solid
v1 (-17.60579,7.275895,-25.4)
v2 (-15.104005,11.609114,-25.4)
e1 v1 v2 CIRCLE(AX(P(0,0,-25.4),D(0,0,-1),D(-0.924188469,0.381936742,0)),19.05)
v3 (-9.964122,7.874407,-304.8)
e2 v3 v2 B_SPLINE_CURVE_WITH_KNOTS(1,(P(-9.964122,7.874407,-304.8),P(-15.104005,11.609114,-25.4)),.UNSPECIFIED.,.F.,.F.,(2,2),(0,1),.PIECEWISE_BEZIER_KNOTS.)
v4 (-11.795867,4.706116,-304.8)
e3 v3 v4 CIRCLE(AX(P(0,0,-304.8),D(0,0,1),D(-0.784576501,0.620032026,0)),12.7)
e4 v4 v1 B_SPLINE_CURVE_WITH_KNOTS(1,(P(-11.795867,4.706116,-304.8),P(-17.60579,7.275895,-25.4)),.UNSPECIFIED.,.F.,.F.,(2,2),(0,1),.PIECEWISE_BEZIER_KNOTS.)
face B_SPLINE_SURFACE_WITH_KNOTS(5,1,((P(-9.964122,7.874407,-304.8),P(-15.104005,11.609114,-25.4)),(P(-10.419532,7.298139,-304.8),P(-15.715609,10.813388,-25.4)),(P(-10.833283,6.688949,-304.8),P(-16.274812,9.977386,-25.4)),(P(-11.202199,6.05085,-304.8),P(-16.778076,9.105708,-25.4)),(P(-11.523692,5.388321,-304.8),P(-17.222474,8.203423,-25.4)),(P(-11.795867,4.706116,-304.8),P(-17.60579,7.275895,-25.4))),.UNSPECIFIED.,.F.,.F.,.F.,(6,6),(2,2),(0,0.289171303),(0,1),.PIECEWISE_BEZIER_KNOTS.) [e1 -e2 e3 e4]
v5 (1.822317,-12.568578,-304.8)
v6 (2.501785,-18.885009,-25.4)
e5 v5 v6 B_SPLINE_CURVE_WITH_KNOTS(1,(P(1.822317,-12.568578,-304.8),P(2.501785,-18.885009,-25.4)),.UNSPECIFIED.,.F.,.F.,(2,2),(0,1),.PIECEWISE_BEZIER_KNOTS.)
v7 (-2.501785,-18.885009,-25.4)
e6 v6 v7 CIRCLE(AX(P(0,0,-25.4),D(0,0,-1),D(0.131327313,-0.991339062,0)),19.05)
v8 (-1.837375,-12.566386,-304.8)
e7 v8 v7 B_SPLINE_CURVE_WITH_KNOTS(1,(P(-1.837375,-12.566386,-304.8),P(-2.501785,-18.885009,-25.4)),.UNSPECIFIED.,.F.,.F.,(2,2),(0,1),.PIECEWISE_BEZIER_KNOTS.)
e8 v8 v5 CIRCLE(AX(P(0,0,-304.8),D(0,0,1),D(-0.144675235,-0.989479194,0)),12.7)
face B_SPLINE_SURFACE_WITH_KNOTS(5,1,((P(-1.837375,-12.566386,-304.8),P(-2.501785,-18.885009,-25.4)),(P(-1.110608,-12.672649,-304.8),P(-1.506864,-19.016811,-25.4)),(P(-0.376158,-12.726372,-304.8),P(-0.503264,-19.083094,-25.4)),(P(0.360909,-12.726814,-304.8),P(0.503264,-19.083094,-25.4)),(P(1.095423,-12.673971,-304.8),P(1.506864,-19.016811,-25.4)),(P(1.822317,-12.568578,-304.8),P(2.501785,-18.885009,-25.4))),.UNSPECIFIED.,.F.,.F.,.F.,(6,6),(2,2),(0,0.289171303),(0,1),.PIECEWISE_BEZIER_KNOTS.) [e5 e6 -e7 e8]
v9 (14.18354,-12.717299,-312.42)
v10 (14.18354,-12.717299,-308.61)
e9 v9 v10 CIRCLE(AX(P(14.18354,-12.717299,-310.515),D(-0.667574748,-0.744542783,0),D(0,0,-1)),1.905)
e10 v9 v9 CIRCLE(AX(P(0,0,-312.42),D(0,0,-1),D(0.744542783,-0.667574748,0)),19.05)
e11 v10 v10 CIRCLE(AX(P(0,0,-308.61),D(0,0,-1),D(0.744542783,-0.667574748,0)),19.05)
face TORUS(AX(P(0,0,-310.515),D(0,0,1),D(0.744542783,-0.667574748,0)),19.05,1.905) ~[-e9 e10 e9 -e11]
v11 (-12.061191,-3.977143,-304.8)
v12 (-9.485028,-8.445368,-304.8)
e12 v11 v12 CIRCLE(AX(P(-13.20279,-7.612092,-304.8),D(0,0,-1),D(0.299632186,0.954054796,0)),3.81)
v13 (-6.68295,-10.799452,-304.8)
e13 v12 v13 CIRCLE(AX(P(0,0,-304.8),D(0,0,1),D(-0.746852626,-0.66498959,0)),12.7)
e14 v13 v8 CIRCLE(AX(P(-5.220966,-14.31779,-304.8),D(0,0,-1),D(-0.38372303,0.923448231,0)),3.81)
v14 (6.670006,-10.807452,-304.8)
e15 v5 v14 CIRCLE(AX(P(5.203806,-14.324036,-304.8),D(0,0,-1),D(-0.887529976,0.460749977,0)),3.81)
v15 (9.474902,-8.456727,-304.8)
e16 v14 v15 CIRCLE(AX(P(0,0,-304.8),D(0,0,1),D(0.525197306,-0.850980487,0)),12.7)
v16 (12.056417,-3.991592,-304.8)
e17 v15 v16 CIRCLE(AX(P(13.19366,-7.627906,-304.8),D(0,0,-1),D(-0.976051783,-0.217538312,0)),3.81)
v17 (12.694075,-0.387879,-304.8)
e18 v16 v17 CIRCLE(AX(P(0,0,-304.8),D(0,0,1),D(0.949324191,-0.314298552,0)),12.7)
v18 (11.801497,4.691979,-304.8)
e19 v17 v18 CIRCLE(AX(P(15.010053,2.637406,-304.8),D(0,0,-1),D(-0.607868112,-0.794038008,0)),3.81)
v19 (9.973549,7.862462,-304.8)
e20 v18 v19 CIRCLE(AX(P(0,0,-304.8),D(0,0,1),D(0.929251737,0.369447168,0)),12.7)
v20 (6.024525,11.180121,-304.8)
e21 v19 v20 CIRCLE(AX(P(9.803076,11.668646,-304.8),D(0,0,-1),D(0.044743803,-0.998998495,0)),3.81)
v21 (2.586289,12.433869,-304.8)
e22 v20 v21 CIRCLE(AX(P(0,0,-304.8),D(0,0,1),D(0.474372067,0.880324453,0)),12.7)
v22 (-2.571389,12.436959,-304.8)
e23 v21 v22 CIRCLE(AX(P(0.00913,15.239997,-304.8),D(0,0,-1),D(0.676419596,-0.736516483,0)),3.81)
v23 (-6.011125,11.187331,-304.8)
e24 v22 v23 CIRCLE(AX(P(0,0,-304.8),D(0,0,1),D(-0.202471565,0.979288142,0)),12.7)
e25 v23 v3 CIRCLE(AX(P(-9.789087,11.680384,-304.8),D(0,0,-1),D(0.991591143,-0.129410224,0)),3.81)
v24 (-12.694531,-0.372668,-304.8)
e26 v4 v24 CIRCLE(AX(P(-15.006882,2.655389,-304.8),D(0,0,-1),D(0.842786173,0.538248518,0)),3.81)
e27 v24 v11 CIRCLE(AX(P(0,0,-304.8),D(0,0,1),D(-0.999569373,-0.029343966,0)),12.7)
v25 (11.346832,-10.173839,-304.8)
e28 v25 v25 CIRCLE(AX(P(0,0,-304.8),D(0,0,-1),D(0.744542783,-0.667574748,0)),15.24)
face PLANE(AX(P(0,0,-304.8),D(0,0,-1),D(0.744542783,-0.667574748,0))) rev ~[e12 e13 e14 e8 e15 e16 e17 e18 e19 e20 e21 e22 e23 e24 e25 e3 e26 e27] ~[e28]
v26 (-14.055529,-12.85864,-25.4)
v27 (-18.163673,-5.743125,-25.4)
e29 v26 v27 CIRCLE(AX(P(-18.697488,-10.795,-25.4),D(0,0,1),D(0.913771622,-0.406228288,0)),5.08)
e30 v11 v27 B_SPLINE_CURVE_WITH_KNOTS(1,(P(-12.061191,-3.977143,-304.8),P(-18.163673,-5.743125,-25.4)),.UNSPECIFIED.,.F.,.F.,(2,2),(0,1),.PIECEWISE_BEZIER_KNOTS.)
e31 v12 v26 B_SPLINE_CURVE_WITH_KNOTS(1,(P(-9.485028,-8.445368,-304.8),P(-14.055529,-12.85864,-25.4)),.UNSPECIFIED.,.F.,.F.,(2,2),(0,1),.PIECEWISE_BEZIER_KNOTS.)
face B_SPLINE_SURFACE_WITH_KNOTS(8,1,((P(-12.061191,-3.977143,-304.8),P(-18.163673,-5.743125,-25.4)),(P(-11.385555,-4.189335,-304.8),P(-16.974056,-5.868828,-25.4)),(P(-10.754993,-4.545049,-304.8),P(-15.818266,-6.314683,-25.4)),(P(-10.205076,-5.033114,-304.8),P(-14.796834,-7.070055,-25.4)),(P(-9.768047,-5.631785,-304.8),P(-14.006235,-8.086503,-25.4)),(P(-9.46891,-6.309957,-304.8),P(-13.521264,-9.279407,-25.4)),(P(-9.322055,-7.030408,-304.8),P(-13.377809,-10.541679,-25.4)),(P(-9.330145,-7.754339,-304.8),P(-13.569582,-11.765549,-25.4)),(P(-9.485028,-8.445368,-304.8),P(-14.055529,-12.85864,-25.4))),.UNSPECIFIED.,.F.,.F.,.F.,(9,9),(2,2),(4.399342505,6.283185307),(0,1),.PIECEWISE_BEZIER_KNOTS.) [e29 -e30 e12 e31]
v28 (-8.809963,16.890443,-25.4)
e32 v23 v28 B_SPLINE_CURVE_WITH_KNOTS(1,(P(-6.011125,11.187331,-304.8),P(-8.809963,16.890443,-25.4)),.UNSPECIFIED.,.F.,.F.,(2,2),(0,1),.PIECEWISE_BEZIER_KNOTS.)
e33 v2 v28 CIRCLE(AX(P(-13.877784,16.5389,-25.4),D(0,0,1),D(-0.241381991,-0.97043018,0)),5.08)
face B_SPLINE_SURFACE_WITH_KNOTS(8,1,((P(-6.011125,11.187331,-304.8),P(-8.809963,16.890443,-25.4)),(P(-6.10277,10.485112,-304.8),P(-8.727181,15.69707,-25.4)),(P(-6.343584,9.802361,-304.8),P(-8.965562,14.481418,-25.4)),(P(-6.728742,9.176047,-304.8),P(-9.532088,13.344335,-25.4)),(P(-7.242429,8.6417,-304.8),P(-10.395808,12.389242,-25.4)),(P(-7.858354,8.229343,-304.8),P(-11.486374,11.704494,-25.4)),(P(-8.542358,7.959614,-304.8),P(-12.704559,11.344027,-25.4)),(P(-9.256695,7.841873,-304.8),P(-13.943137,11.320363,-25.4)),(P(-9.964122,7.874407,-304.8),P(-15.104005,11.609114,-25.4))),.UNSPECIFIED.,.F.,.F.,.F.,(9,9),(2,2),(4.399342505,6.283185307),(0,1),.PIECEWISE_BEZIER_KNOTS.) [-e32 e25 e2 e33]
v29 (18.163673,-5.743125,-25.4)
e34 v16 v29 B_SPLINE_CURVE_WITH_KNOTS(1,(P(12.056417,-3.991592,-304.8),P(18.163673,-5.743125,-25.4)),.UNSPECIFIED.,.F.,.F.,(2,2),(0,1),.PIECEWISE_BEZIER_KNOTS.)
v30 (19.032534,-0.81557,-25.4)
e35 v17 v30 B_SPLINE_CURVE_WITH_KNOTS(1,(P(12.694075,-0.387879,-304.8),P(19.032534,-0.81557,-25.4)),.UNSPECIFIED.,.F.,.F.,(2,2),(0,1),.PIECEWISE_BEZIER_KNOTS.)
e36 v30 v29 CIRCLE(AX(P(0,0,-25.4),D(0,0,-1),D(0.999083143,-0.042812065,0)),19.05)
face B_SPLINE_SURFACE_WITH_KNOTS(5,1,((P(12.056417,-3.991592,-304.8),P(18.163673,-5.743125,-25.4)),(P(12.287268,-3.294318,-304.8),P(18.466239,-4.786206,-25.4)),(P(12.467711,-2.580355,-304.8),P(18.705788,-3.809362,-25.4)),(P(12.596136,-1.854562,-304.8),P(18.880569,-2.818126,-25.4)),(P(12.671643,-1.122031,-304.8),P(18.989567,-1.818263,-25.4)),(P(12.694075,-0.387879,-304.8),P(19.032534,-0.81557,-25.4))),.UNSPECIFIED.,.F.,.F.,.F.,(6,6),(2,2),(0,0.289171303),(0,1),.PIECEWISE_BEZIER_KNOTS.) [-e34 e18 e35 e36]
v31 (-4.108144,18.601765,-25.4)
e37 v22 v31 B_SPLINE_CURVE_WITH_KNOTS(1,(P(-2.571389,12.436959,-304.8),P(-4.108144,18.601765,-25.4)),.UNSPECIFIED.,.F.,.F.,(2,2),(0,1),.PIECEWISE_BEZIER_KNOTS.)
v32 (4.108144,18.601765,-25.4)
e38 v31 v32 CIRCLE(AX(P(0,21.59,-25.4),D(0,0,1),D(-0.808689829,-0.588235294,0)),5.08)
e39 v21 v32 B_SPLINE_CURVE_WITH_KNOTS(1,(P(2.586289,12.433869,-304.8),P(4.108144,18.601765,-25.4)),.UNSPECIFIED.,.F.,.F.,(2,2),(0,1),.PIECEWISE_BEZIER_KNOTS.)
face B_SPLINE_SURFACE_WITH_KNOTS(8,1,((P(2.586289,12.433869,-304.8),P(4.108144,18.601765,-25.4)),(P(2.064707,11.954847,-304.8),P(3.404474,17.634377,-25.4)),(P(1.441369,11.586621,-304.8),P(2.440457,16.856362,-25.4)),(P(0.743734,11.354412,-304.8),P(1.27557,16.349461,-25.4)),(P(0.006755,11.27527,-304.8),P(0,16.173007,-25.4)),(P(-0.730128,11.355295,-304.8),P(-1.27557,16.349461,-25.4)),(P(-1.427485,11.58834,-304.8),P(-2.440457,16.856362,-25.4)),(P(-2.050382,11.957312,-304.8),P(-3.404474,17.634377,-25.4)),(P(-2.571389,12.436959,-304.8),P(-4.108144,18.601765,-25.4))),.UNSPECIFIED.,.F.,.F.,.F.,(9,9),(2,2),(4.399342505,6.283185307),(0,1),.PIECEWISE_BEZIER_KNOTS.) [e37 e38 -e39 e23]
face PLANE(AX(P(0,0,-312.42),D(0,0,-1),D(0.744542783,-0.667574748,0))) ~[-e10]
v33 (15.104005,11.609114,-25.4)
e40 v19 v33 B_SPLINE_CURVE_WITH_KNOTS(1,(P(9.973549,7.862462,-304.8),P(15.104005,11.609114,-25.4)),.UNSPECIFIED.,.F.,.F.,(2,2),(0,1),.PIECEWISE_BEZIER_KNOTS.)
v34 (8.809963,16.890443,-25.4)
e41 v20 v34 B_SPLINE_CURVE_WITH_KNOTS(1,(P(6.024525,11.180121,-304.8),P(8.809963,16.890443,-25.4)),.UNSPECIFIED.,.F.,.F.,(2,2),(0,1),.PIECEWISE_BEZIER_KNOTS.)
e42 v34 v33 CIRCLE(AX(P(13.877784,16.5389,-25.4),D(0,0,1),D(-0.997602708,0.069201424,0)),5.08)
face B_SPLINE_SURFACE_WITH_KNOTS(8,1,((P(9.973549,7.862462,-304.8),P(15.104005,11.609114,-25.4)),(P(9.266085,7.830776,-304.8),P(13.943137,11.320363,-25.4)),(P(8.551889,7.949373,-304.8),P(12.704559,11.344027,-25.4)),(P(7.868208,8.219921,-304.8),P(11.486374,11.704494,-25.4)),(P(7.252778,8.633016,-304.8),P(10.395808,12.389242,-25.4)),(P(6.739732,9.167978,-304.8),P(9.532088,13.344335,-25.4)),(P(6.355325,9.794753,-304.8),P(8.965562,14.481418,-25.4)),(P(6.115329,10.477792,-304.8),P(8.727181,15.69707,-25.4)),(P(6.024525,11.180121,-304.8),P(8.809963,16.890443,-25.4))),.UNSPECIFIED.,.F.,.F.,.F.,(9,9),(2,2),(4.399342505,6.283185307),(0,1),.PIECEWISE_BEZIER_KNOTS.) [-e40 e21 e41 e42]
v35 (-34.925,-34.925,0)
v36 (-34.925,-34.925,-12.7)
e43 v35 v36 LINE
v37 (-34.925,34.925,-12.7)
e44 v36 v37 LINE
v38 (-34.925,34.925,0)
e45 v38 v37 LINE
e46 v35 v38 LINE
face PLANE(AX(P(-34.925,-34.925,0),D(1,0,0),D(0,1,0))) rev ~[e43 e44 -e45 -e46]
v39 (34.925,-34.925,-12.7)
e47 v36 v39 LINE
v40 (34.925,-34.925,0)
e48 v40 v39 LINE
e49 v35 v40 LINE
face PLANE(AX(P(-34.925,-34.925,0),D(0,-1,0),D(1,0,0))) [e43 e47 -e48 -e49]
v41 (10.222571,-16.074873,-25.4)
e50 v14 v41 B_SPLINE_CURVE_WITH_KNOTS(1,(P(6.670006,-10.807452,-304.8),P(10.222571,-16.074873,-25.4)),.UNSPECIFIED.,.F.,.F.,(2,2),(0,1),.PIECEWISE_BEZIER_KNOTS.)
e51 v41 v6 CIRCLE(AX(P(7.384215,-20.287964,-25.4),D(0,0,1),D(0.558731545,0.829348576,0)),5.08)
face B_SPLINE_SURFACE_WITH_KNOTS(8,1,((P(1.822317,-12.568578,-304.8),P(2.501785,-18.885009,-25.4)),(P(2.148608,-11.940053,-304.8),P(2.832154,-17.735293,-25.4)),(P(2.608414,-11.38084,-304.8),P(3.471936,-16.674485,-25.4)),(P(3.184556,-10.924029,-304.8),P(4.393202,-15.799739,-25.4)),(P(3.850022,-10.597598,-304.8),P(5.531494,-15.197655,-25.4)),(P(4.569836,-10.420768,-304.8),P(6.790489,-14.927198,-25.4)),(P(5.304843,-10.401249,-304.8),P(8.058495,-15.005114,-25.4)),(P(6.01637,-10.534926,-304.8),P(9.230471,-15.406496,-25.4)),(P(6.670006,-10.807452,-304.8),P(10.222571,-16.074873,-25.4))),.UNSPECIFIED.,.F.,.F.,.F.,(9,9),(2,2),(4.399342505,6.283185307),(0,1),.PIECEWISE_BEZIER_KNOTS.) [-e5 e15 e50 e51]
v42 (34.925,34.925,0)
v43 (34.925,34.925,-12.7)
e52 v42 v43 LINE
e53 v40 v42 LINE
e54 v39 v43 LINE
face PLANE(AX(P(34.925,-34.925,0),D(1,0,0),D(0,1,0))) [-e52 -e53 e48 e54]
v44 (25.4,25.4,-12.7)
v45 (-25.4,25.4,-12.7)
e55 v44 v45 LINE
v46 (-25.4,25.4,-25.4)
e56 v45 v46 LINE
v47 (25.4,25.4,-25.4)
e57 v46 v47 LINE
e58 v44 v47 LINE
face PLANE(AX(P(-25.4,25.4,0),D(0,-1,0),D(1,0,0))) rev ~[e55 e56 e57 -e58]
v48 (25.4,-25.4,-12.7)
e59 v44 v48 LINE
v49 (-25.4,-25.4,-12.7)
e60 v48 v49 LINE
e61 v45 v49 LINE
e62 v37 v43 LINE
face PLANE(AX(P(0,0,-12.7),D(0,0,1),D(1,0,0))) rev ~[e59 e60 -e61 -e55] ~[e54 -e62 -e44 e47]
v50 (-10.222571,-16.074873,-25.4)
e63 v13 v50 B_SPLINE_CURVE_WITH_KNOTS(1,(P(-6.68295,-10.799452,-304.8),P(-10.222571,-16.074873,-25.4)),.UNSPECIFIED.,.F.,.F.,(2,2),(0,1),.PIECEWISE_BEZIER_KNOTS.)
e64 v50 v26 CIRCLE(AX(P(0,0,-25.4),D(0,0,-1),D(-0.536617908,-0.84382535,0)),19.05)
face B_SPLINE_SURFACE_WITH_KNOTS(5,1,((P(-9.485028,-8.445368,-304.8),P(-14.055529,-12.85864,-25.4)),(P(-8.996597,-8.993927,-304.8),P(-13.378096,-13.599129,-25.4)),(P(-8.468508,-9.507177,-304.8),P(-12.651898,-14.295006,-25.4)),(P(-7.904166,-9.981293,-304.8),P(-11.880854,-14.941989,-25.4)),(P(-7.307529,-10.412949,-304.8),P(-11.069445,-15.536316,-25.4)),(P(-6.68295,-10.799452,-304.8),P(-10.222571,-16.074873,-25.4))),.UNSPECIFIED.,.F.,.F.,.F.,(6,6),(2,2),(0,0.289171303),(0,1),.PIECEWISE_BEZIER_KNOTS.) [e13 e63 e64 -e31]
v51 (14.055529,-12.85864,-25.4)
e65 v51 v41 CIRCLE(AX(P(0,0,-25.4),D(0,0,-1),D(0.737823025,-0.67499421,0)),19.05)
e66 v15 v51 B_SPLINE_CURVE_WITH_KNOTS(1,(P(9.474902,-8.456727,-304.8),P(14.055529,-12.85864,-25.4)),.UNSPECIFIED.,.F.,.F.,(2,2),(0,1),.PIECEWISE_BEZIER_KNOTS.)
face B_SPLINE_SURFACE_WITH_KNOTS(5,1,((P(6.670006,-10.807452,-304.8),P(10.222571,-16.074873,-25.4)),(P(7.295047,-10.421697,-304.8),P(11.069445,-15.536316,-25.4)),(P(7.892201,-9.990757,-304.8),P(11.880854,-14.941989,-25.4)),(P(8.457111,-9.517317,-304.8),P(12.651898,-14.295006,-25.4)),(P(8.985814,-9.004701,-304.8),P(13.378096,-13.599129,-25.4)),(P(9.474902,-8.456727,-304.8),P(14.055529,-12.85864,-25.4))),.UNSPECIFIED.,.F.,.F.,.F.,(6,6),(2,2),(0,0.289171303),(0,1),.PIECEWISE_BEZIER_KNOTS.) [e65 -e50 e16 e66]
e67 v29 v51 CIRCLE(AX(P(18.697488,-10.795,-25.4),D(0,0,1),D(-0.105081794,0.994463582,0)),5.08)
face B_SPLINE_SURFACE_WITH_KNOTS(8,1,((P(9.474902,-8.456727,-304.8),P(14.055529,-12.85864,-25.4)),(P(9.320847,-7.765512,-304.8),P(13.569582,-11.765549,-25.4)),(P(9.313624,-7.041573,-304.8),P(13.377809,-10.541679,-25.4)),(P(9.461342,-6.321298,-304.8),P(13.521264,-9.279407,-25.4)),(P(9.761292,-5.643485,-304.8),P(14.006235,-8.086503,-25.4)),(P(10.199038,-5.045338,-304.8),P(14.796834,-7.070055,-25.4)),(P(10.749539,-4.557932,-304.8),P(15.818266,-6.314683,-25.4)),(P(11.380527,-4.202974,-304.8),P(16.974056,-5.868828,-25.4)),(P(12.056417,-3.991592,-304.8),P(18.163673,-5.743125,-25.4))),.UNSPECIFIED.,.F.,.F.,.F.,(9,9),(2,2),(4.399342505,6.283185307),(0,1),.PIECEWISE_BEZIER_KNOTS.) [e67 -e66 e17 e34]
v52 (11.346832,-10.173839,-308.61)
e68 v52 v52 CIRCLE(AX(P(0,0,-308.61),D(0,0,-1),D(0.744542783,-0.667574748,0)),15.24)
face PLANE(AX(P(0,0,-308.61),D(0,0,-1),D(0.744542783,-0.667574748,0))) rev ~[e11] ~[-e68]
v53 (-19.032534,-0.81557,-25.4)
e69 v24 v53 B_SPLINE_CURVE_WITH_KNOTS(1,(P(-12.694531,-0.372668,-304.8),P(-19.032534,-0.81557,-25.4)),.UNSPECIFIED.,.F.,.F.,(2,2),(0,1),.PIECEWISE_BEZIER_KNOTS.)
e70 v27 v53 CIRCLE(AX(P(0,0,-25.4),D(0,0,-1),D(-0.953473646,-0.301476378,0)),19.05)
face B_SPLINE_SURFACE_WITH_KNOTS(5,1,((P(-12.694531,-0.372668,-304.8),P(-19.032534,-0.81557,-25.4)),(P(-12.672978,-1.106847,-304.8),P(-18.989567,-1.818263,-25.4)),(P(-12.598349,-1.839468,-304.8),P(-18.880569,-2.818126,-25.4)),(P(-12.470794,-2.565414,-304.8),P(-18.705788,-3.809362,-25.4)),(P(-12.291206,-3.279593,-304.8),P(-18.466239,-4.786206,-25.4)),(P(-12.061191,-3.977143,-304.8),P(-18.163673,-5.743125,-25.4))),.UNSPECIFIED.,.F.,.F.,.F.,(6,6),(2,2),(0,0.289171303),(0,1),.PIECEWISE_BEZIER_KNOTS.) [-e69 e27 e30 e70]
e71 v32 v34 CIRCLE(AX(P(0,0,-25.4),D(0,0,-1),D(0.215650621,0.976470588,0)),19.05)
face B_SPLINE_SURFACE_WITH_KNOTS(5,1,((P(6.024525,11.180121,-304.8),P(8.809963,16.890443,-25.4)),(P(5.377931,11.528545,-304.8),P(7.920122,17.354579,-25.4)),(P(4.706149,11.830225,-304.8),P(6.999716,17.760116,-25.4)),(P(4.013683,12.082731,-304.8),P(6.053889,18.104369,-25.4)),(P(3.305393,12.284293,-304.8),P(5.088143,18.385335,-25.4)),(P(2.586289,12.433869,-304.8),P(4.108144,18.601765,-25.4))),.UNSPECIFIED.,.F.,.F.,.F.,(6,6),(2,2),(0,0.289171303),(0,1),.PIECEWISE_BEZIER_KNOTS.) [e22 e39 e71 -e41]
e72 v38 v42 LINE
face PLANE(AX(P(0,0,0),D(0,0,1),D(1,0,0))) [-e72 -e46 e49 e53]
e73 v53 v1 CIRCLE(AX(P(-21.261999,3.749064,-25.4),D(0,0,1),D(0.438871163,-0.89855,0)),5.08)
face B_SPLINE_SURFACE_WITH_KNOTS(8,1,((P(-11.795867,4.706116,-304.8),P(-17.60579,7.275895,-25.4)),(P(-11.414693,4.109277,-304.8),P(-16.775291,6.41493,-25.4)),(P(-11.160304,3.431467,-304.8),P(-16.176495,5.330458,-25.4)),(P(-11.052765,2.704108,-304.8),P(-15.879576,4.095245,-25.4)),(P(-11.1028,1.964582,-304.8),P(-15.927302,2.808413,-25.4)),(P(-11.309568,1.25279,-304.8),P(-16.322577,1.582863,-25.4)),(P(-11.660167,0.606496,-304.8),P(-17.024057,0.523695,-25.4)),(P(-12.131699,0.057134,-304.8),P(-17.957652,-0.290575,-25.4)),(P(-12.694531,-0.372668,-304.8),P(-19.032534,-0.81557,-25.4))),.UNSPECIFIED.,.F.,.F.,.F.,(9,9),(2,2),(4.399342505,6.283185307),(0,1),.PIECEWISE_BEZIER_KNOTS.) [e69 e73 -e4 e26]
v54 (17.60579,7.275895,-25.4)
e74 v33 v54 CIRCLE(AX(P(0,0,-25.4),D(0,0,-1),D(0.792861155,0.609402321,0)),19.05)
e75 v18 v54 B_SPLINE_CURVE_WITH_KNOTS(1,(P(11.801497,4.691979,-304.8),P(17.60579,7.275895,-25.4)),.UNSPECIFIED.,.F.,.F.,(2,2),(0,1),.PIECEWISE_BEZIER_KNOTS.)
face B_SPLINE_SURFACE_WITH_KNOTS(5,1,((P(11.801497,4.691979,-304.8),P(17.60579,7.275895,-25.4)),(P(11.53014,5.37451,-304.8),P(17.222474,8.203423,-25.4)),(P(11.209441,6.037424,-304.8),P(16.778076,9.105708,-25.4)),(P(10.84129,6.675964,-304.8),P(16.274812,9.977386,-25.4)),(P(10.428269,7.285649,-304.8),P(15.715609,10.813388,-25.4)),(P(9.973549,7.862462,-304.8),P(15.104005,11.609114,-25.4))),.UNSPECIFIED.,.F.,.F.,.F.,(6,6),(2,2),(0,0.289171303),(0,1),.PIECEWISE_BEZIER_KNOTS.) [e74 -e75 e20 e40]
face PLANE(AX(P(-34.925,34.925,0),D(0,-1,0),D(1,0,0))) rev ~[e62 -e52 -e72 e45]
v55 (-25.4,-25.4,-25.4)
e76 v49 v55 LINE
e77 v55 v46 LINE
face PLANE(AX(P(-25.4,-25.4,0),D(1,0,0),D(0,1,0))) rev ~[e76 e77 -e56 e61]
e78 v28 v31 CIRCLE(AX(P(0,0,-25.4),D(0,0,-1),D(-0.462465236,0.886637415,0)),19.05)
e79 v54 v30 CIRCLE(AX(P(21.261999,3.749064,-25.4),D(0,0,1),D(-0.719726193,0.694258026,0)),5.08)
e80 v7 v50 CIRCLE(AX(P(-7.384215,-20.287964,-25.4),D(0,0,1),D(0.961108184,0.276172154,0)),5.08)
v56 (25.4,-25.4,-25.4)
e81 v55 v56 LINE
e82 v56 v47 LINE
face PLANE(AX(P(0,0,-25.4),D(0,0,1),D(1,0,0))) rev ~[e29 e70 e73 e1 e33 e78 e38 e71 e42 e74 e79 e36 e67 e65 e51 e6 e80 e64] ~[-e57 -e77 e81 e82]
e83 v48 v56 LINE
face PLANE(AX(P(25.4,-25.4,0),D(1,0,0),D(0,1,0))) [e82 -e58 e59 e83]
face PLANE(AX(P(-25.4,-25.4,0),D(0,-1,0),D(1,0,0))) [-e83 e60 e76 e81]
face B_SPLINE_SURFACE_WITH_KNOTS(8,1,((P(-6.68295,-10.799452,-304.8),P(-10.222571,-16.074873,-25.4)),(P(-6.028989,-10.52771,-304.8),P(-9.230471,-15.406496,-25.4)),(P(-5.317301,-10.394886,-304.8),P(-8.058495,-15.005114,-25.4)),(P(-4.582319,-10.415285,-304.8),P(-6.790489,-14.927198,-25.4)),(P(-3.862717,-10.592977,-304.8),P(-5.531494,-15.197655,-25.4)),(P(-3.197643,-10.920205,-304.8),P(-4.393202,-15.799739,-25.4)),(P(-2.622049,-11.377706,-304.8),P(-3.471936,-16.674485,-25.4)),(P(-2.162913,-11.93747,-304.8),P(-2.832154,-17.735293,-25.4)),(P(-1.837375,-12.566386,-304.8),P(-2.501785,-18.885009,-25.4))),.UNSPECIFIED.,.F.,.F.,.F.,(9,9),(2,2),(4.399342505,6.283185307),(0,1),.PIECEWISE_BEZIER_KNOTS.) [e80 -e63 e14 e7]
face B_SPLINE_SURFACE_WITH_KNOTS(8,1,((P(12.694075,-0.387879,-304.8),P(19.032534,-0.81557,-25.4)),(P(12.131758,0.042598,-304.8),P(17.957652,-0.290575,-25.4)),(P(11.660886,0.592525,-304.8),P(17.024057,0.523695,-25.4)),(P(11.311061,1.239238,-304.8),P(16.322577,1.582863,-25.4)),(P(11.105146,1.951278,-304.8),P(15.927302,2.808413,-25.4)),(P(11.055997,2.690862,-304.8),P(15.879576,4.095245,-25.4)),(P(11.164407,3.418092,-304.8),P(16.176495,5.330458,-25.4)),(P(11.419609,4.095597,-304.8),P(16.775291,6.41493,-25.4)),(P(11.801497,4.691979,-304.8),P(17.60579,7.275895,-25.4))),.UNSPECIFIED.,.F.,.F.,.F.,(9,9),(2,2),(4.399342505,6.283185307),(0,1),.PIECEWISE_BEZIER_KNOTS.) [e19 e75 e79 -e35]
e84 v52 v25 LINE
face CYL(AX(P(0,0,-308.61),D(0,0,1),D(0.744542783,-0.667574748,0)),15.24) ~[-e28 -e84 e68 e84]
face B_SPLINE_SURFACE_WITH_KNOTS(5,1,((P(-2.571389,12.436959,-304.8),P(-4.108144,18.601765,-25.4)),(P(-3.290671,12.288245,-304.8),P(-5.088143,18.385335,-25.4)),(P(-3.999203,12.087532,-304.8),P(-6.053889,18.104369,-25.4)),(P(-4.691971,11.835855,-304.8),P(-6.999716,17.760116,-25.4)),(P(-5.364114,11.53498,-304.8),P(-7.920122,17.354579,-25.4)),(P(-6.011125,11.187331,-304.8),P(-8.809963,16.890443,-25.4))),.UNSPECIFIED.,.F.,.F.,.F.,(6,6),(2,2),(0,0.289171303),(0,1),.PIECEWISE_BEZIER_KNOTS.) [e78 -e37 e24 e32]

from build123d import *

# Parameters (mm, degrees)
F1_W     = 50.8
F1_H     = 50.8
F2_DEPTH = 25.4
F0_W     = 69.85
F0_H     = 69.85
F3_DEPTH = 12.7


with BuildPart() as f2:
    # F1 (on Top) → F2 (new body)
    with BuildSketch(Plane.XY):
        Rectangle(F1_W, F1_H)
    extrude(amount=-F2_DEPTH)

    # F0 (on Top) → F3 (join)
    with BuildSketch(Plane.XY):
        Rectangle(F0_W, F0_H)
    extrude(amount=-F3_DEPTH)

    # F6 (on offset) → F7 section 0
    with BuildSketch(Plane.XY.offset(-304.8)):
        with BuildLine():
            ThreePointArc((1.8223172477, -12.5685782748), (3.902854843, -10.743026765), (6.6700057903, -10.8074521862))
            ThreePointArc((6.6700057903, -10.8074521862), (8.1575727221, -9.7336533369), (9.4749023876, -8.4567265975))
            ThreePointArc((9.4749023876, -8.4567265975), (9.8952447599, -5.7209292202), (12.0564172288, -3.991591613))
            ThreePointArc((12.0564172288, -3.991591613), (12.5057350151, -2.2128243791), (12.6940753985, -0.3878785593))
            ThreePointArc((12.6940753985, -0.3878785593), (11.2575396802, 1.9780546879), (11.8014970538, 4.6919790376))
            ThreePointArc((11.8014970538, 4.6919790376), (11.0023249087, 6.3434096985), (9.9735494515, 7.8624621677))
            ThreePointArc((9.9735494515, 7.8624621677), (7.3523066706, 8.7514848238), (6.0245252483, 11.1801205509))
            ThreePointArc((6.0245252483, 11.1801205509), (4.3508047004, 11.931491879), (2.5862888725, 12.4338694648))
            ThreePointArc((2.5862888725, 12.4338694648), (0.006847658, 11.4299979488), (-2.571388876, 12.4369594053))
            ThreePointArc((-2.571388876, 12.4369594053), (-4.3365053811, 11.9366964056), (-6.0111250133, 11.1873310523))
            ThreePointArc((-6.0111250133, 11.1873310523), (-7.3418154499, 8.7602880032), (-9.9641215675, 7.8744067325))
            ThreePointArc((-9.9641215675, 7.8744067325), (-10.9947163999, 6.3565880224), (-11.7958666993, 4.7061161071))
            ThreePointArc((-11.7958666993, 4.7061161071), (-11.2551615136, 1.9915419412), (-12.6945310386, -0.3726683647))
            ThreePointArc((-12.6945310386, -0.3726683647), (-12.5083774225, -2.1978385421), (-12.0611912601, -3.9771428673))
            ThreePointArc((-12.0611912601, -3.9771428673), (-9.9020924178, -5.7090687286), (-9.4850283528, -8.4453677923))
            ThreePointArc((-9.4850283528, -8.4453677923), (-8.169229634, -9.7238720265), (-6.6829503852, -10.799452493))
            ThreePointArc((-6.6829503852, -10.799452493), (-3.9157242303, -10.7383426911), (-1.8373754864, -12.5663857701))
            ThreePointArc((-1.8373754864, -12.5663857701), (-0.0076085088, -12.6999977209), (1.8223172477, -12.5685782748))
        make_face()
    # F4 (on face) → F7 section 1
    with BuildSketch(Plane(origin=(0, 0, -25.4), x_dir=(1, 0, 0), z_dir=(0, 0, -1))):
        with BuildLine():
            ThreePointArc((8.8099627366, -16.8904427586), (10.6124234359, -12.6473937559), (15.1040050059, -11.6091142117))
            ThreePointArc((15.1040050059, -11.6091142117), (16.4977839421, -9.525), (17.6057903258, -7.2758949281))
            ThreePointArc((17.6057903258, -7.2758949281), (16.2591760022, -2.8669314133), (19.0325338784, 0.815569843))
            ThreePointArc((19.0325338784, 0.815569843), (18.7605876949, 3.3079977846), (18.163672955, 5.7431250017))
            ThreePointArc((18.163672955, 5.7431250017), (14.2980794165, 8.255), (14.0555286261, 12.8586397042))
            ThreePointArc((14.0555286261, 12.8586397042), (12.2451039645, 14.5931466414), (10.2225711418, 16.0748729155))
            ThreePointArc((10.2225711418, 16.0748729155), (5.6467525663, 15.5143251692), (2.5017853198, 18.8850091399))
            ThreePointArc((2.5017853198, 18.8850091399), (0, 19.05), (-2.5017853198, 18.8850091399))
            ThreePointArc((-2.5017853198, 18.8850091399), (-5.6467525663, 15.5143251692), (-10.2225711418, 16.0748729155))
            ThreePointArc((-10.2225711418, 16.0748729155), (-12.2451039645, 14.5931466414), (-14.0555286261, 12.8586397042))
            ThreePointArc((-14.0555286261, 12.8586397042), (-14.2980794165, 8.255), (-18.163672955, 5.7431250017))
            ThreePointArc((-18.163672955, 5.7431250017), (-18.7605876949, 3.3079977846), (-19.0325338784, 0.815569843))
            ThreePointArc((-19.0325338784, 0.815569843), (-16.2591760022, -2.8669314133), (-17.6057903258, -7.2758949281))
            ThreePointArc((-17.6057903258, -7.2758949281), (-16.4977839421, -9.525), (-15.1040050059, -11.6091142117))
            ThreePointArc((-15.1040050059, -11.6091142117), (-10.6124234359, -12.6473937559), (-8.8099627366, -16.8904427586))
            ThreePointArc((-8.8099627366, -16.8904427586), (-6.5154837304, -17.901144426), (-4.1081443289, -18.6017647059))
            ThreePointArc((-4.1081443289, -18.6017647059), (0, -16.51), (4.1081443289, -18.6017647059))
            ThreePointArc((4.1081443289, -18.6017647059), (6.5154837304, -17.901144426), (8.8099627366, -16.8904427586))
        make_face()
    loft()

    # F10 (on 3pt) → F11 (revolve)
    with BuildSketch(Plane(origin=(0, 0, 0), x_dir=(0.7445427832, -0.6675747479, 0), z_dir=(-0.6675747479, -0.7445427832, 0))):
        with BuildLine():
            Line((15.24, -304.8), (0, -304.8))
            Line((0, -304.8), (0, -312.42))
            Line((0, -312.42), (19.05, -312.42))
            ThreePointArc((19.05, -312.42), (20.955, -310.515), (19.05, -308.61))
            Line((19.05, -308.61), (15.24, -308.61))
            Line((15.24, -308.61), (15.24, -304.8))
        make_face()
    revolve(axis=Axis((0, 0, -308.61), (0, 0, -1)))


solid = f2.part
